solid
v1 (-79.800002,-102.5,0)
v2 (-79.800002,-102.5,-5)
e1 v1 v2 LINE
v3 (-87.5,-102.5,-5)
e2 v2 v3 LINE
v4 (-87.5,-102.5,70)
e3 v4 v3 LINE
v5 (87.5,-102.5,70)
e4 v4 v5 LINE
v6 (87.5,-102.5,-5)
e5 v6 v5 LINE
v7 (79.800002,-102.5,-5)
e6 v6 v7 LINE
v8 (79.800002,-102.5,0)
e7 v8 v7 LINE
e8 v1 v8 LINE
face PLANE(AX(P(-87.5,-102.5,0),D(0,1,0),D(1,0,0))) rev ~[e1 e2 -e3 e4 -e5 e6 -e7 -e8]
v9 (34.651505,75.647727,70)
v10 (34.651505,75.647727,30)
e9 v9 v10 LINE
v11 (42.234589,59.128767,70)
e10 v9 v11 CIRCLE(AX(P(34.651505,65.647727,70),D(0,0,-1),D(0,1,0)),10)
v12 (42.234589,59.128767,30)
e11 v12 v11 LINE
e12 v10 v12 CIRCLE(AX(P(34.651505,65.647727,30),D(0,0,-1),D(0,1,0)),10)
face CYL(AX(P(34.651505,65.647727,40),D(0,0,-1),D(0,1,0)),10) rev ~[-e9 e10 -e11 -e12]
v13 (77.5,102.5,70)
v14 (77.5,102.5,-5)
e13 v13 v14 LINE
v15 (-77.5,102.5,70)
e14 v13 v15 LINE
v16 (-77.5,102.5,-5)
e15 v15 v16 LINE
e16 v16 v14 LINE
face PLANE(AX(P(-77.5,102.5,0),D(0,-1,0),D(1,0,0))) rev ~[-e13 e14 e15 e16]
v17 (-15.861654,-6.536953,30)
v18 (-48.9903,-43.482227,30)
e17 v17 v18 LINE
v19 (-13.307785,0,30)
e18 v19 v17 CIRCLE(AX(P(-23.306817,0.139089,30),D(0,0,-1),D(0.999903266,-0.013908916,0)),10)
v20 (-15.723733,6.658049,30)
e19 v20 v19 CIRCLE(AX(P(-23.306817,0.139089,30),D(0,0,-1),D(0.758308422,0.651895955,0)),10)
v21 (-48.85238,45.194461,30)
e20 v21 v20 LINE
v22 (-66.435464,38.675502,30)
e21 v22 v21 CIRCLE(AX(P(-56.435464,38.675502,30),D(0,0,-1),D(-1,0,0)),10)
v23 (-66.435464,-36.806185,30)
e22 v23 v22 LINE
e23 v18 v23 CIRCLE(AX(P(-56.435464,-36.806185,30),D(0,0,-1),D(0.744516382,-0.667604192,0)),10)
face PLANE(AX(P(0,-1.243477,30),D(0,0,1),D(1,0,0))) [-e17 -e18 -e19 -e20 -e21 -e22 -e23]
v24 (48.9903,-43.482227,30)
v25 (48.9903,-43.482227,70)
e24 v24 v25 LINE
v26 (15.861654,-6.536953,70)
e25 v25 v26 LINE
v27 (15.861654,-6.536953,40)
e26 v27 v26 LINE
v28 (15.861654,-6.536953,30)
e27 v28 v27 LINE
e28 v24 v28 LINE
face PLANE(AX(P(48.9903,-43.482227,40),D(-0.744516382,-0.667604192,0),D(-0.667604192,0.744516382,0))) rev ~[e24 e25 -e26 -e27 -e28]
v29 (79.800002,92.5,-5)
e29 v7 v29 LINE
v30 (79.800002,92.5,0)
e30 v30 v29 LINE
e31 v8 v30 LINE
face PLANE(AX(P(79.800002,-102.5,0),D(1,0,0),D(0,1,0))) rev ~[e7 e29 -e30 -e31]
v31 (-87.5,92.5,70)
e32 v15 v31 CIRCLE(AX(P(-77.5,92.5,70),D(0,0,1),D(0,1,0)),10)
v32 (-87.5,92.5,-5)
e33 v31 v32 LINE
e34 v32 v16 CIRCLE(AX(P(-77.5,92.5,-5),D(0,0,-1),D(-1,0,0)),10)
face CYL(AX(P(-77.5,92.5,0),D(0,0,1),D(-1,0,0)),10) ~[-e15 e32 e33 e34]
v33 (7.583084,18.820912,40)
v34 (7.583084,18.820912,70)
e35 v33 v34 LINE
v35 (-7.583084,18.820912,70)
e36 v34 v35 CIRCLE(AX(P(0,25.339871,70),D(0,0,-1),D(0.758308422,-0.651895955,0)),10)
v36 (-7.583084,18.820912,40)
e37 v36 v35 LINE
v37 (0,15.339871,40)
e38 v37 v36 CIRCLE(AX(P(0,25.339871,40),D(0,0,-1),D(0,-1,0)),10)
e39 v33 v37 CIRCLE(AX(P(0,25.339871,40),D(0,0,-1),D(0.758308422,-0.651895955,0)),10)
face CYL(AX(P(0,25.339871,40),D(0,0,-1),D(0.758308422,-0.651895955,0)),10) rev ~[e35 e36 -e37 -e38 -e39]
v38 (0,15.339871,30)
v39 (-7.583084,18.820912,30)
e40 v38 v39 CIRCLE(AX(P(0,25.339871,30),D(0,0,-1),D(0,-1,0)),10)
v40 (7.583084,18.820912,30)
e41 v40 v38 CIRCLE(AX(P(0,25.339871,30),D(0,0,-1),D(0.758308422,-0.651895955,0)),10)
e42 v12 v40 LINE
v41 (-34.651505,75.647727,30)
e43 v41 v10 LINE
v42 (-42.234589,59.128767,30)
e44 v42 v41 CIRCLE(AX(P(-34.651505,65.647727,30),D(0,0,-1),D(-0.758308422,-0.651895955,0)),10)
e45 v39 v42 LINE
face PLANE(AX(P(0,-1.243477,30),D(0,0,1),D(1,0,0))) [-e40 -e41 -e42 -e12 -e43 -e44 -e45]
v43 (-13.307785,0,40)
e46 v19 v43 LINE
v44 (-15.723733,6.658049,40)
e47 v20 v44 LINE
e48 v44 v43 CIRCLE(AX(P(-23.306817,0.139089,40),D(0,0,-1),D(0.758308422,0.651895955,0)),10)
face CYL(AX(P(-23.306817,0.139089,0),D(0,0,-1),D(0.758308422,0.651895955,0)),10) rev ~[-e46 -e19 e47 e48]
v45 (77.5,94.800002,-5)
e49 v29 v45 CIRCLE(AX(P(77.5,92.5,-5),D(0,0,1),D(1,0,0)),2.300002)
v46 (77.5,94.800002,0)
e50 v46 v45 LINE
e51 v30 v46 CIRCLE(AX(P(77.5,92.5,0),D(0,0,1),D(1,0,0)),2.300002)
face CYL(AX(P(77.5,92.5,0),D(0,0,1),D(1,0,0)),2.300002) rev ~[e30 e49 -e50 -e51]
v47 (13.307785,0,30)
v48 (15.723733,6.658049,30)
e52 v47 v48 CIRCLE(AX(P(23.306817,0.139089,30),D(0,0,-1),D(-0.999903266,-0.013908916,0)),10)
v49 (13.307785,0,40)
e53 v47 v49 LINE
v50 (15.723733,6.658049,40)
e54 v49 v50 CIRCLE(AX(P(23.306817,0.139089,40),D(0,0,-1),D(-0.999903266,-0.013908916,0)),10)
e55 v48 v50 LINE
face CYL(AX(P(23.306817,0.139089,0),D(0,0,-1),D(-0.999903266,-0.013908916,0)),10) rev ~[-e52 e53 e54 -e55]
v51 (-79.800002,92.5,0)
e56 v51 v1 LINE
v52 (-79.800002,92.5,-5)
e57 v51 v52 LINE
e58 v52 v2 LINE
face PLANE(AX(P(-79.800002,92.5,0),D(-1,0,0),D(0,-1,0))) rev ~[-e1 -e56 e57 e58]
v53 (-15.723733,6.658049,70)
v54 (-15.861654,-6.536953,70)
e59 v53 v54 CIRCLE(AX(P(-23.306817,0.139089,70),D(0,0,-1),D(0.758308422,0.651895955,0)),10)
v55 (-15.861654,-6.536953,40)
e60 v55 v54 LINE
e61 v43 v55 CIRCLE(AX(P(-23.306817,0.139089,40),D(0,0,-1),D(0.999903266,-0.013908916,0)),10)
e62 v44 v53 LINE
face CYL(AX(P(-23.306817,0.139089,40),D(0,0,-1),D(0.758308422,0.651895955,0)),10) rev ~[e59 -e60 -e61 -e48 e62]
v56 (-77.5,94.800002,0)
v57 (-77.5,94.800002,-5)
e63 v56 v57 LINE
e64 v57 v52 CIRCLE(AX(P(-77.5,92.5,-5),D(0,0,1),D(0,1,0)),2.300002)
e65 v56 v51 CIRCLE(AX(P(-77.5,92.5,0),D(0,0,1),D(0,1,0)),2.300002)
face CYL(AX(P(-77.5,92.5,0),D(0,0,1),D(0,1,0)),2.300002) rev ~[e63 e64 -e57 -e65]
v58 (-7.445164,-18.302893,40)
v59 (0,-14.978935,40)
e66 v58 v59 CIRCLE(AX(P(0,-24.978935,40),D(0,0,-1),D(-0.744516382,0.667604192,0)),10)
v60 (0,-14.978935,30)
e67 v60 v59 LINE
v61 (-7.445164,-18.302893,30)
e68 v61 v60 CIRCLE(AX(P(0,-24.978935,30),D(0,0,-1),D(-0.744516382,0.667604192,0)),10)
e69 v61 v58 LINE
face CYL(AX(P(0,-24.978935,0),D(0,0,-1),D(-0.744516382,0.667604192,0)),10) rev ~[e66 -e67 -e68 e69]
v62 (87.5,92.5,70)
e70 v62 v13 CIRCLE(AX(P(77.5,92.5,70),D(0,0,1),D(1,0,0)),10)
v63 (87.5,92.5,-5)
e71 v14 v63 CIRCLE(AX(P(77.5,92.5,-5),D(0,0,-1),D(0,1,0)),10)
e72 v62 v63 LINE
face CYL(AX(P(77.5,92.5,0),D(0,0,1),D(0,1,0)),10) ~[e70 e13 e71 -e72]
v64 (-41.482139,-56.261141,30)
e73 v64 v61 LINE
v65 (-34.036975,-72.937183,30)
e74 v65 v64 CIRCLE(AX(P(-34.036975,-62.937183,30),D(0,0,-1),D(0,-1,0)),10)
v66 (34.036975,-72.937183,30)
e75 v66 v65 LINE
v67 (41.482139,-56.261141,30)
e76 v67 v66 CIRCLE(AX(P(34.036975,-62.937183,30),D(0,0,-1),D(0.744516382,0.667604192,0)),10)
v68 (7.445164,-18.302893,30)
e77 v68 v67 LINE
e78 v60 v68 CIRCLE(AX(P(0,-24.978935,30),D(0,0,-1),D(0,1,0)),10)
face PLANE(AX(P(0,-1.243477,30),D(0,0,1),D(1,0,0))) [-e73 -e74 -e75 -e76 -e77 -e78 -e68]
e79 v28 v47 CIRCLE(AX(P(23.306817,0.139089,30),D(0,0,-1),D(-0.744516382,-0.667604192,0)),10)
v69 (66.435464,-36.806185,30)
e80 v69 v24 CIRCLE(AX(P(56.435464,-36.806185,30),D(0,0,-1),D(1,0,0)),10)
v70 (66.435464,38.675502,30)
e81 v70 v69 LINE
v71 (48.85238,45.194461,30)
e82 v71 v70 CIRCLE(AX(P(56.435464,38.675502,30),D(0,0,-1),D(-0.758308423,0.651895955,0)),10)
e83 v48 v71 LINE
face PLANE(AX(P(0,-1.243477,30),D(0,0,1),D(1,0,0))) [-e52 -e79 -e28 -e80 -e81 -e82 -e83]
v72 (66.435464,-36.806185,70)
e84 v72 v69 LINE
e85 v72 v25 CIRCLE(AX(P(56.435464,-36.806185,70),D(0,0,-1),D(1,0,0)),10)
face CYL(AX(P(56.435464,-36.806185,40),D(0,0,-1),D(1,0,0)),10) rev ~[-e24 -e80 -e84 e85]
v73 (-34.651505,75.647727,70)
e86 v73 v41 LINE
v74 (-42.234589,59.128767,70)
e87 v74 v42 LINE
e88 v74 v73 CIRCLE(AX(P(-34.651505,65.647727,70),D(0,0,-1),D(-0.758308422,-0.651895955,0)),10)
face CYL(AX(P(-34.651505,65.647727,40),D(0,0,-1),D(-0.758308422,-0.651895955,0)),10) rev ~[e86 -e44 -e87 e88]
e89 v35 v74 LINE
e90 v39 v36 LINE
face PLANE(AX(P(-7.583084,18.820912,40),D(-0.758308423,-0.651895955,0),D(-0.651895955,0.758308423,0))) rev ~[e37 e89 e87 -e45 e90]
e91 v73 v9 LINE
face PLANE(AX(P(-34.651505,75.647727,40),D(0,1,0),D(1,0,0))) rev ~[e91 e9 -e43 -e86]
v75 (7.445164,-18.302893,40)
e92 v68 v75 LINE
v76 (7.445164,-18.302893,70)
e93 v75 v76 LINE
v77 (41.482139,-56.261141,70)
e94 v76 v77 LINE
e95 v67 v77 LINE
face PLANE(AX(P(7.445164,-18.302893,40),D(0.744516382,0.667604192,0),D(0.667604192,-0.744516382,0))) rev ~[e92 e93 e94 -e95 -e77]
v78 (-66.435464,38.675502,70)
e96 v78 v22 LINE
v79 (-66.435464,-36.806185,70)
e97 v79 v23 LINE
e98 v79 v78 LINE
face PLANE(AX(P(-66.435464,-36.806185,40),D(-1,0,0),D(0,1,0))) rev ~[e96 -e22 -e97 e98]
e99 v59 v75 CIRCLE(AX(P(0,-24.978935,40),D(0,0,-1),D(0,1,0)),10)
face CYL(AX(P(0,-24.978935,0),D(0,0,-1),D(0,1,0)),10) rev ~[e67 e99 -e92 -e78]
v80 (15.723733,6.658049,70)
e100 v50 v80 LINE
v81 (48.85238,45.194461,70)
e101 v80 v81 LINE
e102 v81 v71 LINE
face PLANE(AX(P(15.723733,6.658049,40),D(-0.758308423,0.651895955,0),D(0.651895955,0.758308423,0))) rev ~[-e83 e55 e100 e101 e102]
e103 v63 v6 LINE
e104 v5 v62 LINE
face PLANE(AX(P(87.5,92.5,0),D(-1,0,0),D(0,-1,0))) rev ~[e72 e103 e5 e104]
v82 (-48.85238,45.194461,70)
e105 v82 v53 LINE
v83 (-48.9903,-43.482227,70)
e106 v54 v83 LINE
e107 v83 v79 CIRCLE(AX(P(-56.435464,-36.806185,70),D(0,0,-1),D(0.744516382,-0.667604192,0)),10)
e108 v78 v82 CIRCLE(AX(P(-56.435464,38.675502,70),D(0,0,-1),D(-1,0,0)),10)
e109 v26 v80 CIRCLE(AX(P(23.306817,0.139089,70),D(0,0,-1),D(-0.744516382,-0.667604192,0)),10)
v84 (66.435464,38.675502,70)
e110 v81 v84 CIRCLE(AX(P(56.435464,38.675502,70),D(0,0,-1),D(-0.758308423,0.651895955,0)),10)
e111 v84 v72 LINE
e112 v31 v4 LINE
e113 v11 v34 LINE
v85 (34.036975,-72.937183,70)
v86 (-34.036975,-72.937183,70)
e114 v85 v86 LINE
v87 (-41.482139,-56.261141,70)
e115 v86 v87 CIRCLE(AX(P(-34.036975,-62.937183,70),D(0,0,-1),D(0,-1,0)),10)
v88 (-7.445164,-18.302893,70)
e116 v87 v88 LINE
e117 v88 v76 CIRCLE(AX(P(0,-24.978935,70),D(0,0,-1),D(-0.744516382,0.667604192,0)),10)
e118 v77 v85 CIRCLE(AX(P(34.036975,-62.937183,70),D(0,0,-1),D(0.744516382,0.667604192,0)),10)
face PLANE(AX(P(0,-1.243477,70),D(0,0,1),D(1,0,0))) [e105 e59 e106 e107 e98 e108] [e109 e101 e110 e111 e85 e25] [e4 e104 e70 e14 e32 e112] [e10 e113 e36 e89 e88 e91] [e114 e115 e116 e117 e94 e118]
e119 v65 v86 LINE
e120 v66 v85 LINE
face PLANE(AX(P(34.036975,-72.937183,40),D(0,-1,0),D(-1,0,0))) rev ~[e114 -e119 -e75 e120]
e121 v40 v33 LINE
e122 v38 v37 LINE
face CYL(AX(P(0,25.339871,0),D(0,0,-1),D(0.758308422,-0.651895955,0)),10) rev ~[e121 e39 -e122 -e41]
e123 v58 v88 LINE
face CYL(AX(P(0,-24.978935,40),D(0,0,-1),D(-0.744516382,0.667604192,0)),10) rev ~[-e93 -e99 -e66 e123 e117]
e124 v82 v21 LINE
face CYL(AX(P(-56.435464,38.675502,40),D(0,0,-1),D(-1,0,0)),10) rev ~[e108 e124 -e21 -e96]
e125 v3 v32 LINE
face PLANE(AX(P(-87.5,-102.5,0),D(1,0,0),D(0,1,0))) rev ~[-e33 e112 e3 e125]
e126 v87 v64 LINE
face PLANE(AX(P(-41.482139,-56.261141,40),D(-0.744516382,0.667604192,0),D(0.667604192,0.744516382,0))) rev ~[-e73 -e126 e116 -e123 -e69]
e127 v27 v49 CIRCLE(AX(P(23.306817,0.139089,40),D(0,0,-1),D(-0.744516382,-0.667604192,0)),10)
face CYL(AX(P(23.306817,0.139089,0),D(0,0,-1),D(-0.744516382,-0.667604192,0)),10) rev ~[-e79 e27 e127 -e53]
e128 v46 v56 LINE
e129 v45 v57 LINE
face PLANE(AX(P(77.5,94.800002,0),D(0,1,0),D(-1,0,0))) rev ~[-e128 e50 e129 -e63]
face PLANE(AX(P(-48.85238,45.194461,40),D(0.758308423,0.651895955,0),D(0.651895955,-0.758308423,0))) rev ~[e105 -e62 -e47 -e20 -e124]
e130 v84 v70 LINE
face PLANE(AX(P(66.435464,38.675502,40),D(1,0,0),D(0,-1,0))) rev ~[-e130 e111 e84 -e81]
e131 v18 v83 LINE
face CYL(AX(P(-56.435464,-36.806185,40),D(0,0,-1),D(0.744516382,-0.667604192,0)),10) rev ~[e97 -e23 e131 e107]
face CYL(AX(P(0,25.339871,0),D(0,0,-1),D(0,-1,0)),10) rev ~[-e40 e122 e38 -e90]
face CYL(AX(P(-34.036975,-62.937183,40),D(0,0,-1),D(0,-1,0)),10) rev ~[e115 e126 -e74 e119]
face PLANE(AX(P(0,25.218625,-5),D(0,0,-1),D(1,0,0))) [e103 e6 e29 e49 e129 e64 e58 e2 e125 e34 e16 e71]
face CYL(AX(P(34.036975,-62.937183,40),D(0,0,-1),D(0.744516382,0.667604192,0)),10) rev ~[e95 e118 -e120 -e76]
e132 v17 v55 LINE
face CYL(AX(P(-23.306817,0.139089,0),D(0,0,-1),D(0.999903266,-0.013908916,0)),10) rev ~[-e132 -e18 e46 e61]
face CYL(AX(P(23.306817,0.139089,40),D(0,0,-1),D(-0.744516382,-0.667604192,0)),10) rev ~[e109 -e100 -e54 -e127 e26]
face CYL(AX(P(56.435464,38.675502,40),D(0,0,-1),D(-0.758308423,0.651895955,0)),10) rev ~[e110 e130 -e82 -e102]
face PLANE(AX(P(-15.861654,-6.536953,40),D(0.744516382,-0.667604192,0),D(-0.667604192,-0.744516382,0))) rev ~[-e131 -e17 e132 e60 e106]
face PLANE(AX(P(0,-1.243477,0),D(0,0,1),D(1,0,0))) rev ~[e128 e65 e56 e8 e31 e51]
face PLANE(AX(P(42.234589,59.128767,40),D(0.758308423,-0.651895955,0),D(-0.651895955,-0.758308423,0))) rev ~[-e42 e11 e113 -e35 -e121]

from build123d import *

# Parameters (mm, degrees)
F1_DEPTH = 40
F2_DEPTH = 30
F4_DEPTH = 5


with BuildPart() as f1:
    # F0 (on Top) → F1 (new body)
    with BuildSketch(Plane.XY):
        with BuildLine():
            Line((77.5, 102.5), (-77.5, 102.5))
            ThreePointArc((-77.5, 102.5), (-84.5710678119, 99.5710678119), (-87.5, 92.5))
            Line((-87.5, 92.5), (-87.5, -102.5))
            Line((-87.5, -102.5), (87.5, -102.5))
            Line((87.5, -102.5), (87.5, 92.5))
            ThreePointArc((87.5, 92.5), (84.5710678119, 99.5710678119), (77.5, 102.5))
        make_face()
        with BuildLine():
            Line((34.0369748181, -72.9371830821), (0, -72.9371830821))
            Line((0, -72.9371830821), (-34.0369748181, -72.9371830821))
            ThreePointArc((-34.0369748181, -72.9371830821), (-43.1682512678, -67.0139207973), (-41.4821386363, -56.2611411619))
            Line((-41.4821386363, -56.2611411619), (-7.4451638182, -18.3028933823))
            ThreePointArc((-7.4451638182, -18.3028933823), (-4.0767377152, -15.8476588528), (0, -14.9789353025))
            ThreePointArc((0, -14.9789353025), (4.0767377152, -15.8476588528), (7.4451638182, -18.3028933823))
            Line((7.4451638182, -18.3028933823), (41.4821386363, -56.2611411619))
            ThreePointArc((41.4821386363, -56.2611411619), (43.1682512678, -67.0139207973), (34.0369748181, -72.9371830821))
        make_face(mode=Mode.SUBTRACT)
        with BuildLine():
            ThreePointArc((-15.7237331079, 6.6580487109), (-13.9065454363, 3.5500843616), (-13.3077846694, 0))
            ThreePointArc((-13.3077846694, 0), (-13.9924233337, -3.4998755874), (-15.8616535148, -6.536952761))
            Line((-15.8616535148, -6.536952761), (-48.9902999084, -43.482226985))
            ThreePointArc((-48.9902999084, -43.482226985), (-60.0095623414, -46.1456614468), (-66.4354637265, -36.8061850647))
            Line((-66.4354637265, -36.8061850647), (-66.4354637265, 0))
            Line((-66.4354637265, 0), (-66.4354637265, 38.6755018914))
            ThreePointArc((-66.4354637265, 38.6755018914), (-59.9117518151, 48.0518242582), (-48.8523795015, 45.194461443))
            Line((-48.8523795015, 45.194461443), (-15.7237331079, 6.6580487109))
        make_face(mode=Mode.SUBTRACT)
        with BuildLine():
            ThreePointArc((15.8616535148, -6.536952761), (13.9924233337, -3.4998755874), (13.3077846694, 0))
            ThreePointArc((13.3077846694, 0), (13.9065454363, 3.5500843616), (15.7237331079, 6.6580487109))
            Line((15.7237331079, 6.6580487109), (48.8523795015, 45.194461443))
            ThreePointArc((48.8523795015, 45.194461443), (59.9117518151, 48.0518242582), (66.4354637265, 38.6755018914))
            Line((66.4354637265, 38.6755018914), (66.4354637265, 0))
            Line((66.4354637265, 0), (66.4354637265, -36.8061850647))
            ThreePointArc((66.4354637265, -36.8061850647), (60.0095623414, -46.1456614468), (48.9902999084, -43.482226985))
            Line((48.9902999084, -43.482226985), (15.8616535148, -6.536952761))
        make_face(mode=Mode.SUBTRACT)
        with BuildLine():
            ThreePointArc((7.5830842251, 18.8209116668), (4.1719542473, 16.2517032096), (0, 15.3398712185))
            ThreePointArc((0, 15.3398712185), (-4.1719542473, 16.2517032096), (-7.5830842251, 18.8209116668))
            Line((-7.5830842251, 18.8209116668), (-42.2345889959, 59.1287671034))
            ThreePointArc((-42.2345889959, 59.1287671034), (-43.7396727798, 69.8196809024), (-34.6515047709, 75.647726655))
            Line((-34.6515047709, 75.647726655), (0, 75.647726655))
            Line((0, 75.647726655), (34.6515047709, 75.647726655))
            ThreePointArc((34.6515047709, 75.647726655), (43.7396727798, 69.8196809024), (42.2345889959, 59.1287671034))
            Line((42.2345889959, 59.1287671034), (7.5830842251, 18.8209116668))
        make_face(mode=Mode.SUBTRACT)
    extrude(amount=F1_DEPTH)

    # F0 (on Top) + F1_face (on face) → F2 (join)
    with BuildSketch(Plane.XY):
        with BuildLine():
            Line((77.5, 102.5), (-77.5, 102.5))
            ThreePointArc((-77.5, 102.5), (-84.5710678119, 99.5710678119), (-87.5, 92.5))
            Line((-87.5, 92.5), (-87.5, -102.5))
            Line((-87.5, -102.5), (87.5, -102.5))
            Line((87.5, -102.5), (87.5, 92.5))
            ThreePointArc((87.5, 92.5), (84.5710678119, 99.5710678119), (77.5, 102.5))
        make_face()
        with BuildLine():
            Line((34.0369748181, -72.9371830821), (0, -72.9371830821))
            Line((0, -72.9371830821), (-34.0369748181, -72.9371830821))
            ThreePointArc((-34.0369748181, -72.9371830821), (-43.1682512678, -67.0139207973), (-41.4821386363, -56.2611411619))
            Line((-41.4821386363, -56.2611411619), (-7.4451638182, -18.3028933823))
            ThreePointArc((-7.4451638182, -18.3028933823), (-4.0767377152, -15.8476588528), (0, -14.9789353025))
            ThreePointArc((0, -14.9789353025), (4.0767377152, -15.8476588528), (7.4451638182, -18.3028933823))
            Line((7.4451638182, -18.3028933823), (41.4821386363, -56.2611411619))
            ThreePointArc((41.4821386363, -56.2611411619), (43.1682512678, -67.0139207973), (34.0369748181, -72.9371830821))
        make_face(mode=Mode.SUBTRACT)
        with BuildLine():
            ThreePointArc((-15.7237331079, 6.6580487109), (-13.9065454363, 3.5500843616), (-13.3077846694, 0))
            ThreePointArc((-13.3077846694, 0), (-13.9924233337, -3.4998755874), (-15.8616535148, -6.536952761))
            Line((-15.8616535148, -6.536952761), (-48.9902999084, -43.482226985))
            ThreePointArc((-48.9902999084, -43.482226985), (-60.0095623414, -46.1456614468), (-66.4354637265, -36.8061850647))
            Line((-66.4354637265, -36.8061850647), (-66.4354637265, 0))
            Line((-66.4354637265, 0), (-66.4354637265, 38.6755018914))
            ThreePointArc((-66.4354637265, 38.6755018914), (-59.9117518151, 48.0518242582), (-48.8523795015, 45.194461443))
            Line((-48.8523795015, 45.194461443), (-15.7237331079, 6.6580487109))
        make_face(mode=Mode.SUBTRACT)
        with BuildLine():
            ThreePointArc((15.8616535148, -6.536952761), (13.9924233337, -3.4998755874), (13.3077846694, 0))
            ThreePointArc((13.3077846694, 0), (13.9065454363, 3.5500843616), (15.7237331079, 6.6580487109))
            Line((15.7237331079, 6.6580487109), (48.8523795015, 45.194461443))
            ThreePointArc((48.8523795015, 45.194461443), (59.9117518151, 48.0518242582), (66.4354637265, 38.6755018914))
            Line((66.4354637265, 38.6755018914), (66.4354637265, 0))
            Line((66.4354637265, 0), (66.4354637265, -36.8061850647))
            ThreePointArc((66.4354637265, -36.8061850647), (60.0095623414, -46.1456614468), (48.9902999084, -43.482226985))
            Line((48.9902999084, -43.482226985), (15.8616535148, -6.536952761))
        make_face(mode=Mode.SUBTRACT)
        with BuildLine():
            ThreePointArc((7.5830842251, 18.8209116668), (4.1719542473, 16.2517032096), (0, 15.3398712185))
            ThreePointArc((0, 15.3398712185), (-4.1719542473, 16.2517032096), (-7.5830842251, 18.8209116668))
            Line((-7.5830842251, 18.8209116668), (-42.2345889959, 59.1287671034))
            ThreePointArc((-42.2345889959, 59.1287671034), (-43.7396727798, 69.8196809024), (-34.6515047709, 75.647726655))
            Line((-34.6515047709, 75.647726655), (0, 75.647726655))
            Line((0, 75.647726655), (34.6515047709, 75.647726655))
            ThreePointArc((34.6515047709, 75.647726655), (43.7396727798, 69.8196809024), (42.2345889959, 59.1287671034))
            Line((42.2345889959, 59.1287671034), (7.5830842251, 18.8209116668))
        make_face(mode=Mode.SUBTRACT)
        with BuildLine():
            Line((-66.4354637265, 0), (-13.3077846694, 0))
            ThreePointArc((-13.3077846694, 0), (-13.9065454363, 3.5500843616), (-15.7237331079, 6.6580487109))
            Line((-15.7237331079, 6.6580487109), (-48.8523795015, 45.194461443))
            ThreePointArc((-48.8523795015, 45.194461443), (-59.9117518151, 48.0518242582), (-66.4354637265, 38.6755018914))
            Line((-66.4354637265, 38.6755018914), (-66.4354637265, 0))
        make_face()
        with BuildLine():
            ThreePointArc((-7.5830842251, 18.8209116668), (-4.1719542473, 16.2517032096), (0, 15.3398712185))
            Line((0, 15.3398712185), (0, 75.647726655))
            Line((0, 75.647726655), (-34.6515047709, 75.647726655))
            ThreePointArc((-34.6515047709, 75.647726655), (-43.7396727798, 69.8196809024), (-42.2345889959, 59.1287671034))
            Line((-42.2345889959, 59.1287671034), (-7.5830842251, 18.8209116668))
        make_face()
        with BuildLine():
            Line((0, 75.647726655), (0, 15.3398712185))
            ThreePointArc((0, 15.3398712185), (4.1719542473, 16.2517032096), (7.5830842251, 18.8209116668))
            Line((7.5830842251, 18.8209116668), (42.2345889959, 59.1287671034))
            ThreePointArc((42.2345889959, 59.1287671034), (43.7396727798, 69.8196809024), (34.6515047709, 75.647726655))
            Line((34.6515047709, 75.647726655), (0, 75.647726655))
        make_face()
        with BuildLine():
            ThreePointArc((15.7237331079, 6.6580487109), (13.9065454363, 3.5500843616), (13.3077846694, 0))
            Line((13.3077846694, 0), (66.4354637265, 0))
            Line((66.4354637265, 0), (66.4354637265, 38.6755018914))
            ThreePointArc((66.4354637265, 38.6755018914), (59.9117518151, 48.0518242582), (48.8523795015, 45.194461443))
            Line((48.8523795015, 45.194461443), (15.7237331079, 6.6580487109))
        make_face()
        with BuildLine():
            Line((66.4354637265, 0), (13.3077846694, 0))
            ThreePointArc((13.3077846694, 0), (13.9924233337, -3.4998755874), (15.8616535148, -6.536952761))
            Line((15.8616535148, -6.536952761), (48.9902999084, -43.482226985))
            ThreePointArc((48.9902999084, -43.482226985), (60.0095623414, -46.1456614468), (66.4354637265, -36.8061850647))
            Line((66.4354637265, -36.8061850647), (66.4354637265, 0))
        make_face()
        with BuildLine():
            Line((0, -14.9789353025), (0, -72.9371830821))
            Line((0, -72.9371830821), (34.0369748181, -72.9371830821))
            ThreePointArc((34.0369748181, -72.9371830821), (43.1682512678, -67.0139207973), (41.4821386363, -56.2611411619))
            Line((41.4821386363, -56.2611411619), (7.4451638182, -18.3028933823))
            ThreePointArc((7.4451638182, -18.3028933823), (4.0767377152, -15.8476588528), (0, -14.9789353025))
        make_face()
        with BuildLine():
            Line((-34.0369748181, -72.9371830821), (0, -72.9371830821))
            Line((0, -72.9371830821), (0, -14.9789353025))
            ThreePointArc((0, -14.9789353025), (-4.0767377152, -15.8476588528), (-7.4451638182, -18.3028933823))
            Line((-7.4451638182, -18.3028933823), (-41.4821386363, -56.2611411619))
            ThreePointArc((-41.4821386363, -56.2611411619), (-43.1682512678, -67.0139207973), (-34.0369748181, -72.9371830821))
        make_face()
        with BuildLine():
            ThreePointArc((-15.8616535148, -6.536952761), (-13.9924233337, -3.4998755874), (-13.3077846694, 0))
            Line((-13.3077846694, 0), (-66.4354637265, 0))
            Line((-66.4354637265, 0), (-66.4354637265, -36.8061850647))
            ThreePointArc((-66.4354637265, -36.8061850647), (-60.0095623414, -46.1456614468), (-48.9902999084, -43.482226985))
            Line((-48.9902999084, -43.482226985), (-15.8616535148, -6.536952761))
        make_face()
    with BuildSketch(Plane(origin=(0, -1.0794755955, 40), x_dir=(1, 0, 0), z_dir=(0, 0, 1))):
        with BuildLine():
            Line((77.5, 103.5794755955), (-77.5, 103.5794755955))
            ThreePointArc((-77.5, 103.5794755955), (-84.5710678119, 100.6505434074), (-87.5, 93.5794755955))
            Line((-87.5, 93.5794755955), (-87.5, -101.4205244045))
            Line((-87.5, -101.4205244045), (87.5, -101.4205244045))
            Line((87.5, -101.4205244045), (87.5, 93.5794755955))
            ThreePointArc((87.5, 93.5794755955), (84.5710678119, 100.6505434074), (77.5, 103.5794755955))
        make_face()
        with BuildLine():
            ThreePointArc((41.4821386363, -55.1816655664), (43.1682512678, -65.9344452018), (34.0369748181, -71.8577074866))
            Line((34.0369748181, -71.8577074866), (-34.0369748181, -71.8577074866))
            ThreePointArc((-34.0369748181, -71.8577074866), (-43.1682512678, -65.9344452018), (-41.4821386363, -55.1816655664))
            Line((-41.4821386363, -55.1816655664), (-7.4451638182, -17.2234177868))
            ThreePointArc((-7.4451638182, -17.2234177868), (0, -13.899459707), (7.4451638182, -17.2234177868))
            Line((7.4451638182, -17.2234177868), (41.4821386363, -55.1816655664))
        make_face(mode=Mode.SUBTRACT)
        with BuildLine():
            ThreePointArc((-15.7237331079, 7.7375243064), (-13.3073635592, 1.1140457264), (-15.8616535148, -5.4574771655))
            Line((-15.8616535148, -5.4574771655), (-48.9902999084, -42.4027513895))
            ThreePointArc((-48.9902999084, -42.4027513895), (-60.0095623414, -45.0661858513), (-66.4354637265, -35.7267094692))
            Line((-66.4354637265, -35.7267094692), (-66.4354637265, 39.7549774869))
            ThreePointArc((-66.4354637265, 39.7549774869), (-59.9117518151, 49.1312998537), (-48.8523795015, 46.2739370385))
            Line((-48.8523795015, 46.2739370385), (-15.7237331079, 7.7375243064))
        make_face(mode=Mode.SUBTRACT)
        with BuildLine():
            Line((48.9902999084, -42.4027513895), (15.8616535148, -5.4574771655))
            ThreePointArc((15.8616535148, -5.4574771655), (13.3073635592, 1.1140457264), (15.7237331079, 7.7375243064))
            Line((15.7237331079, 7.7375243064), (48.8523795015, 46.2739370385))
            ThreePointArc((48.8523795015, 46.2739370385), (59.9117518151, 49.1312998537), (66.4354637265, 39.7549774869))
            Line((66.4354637265, 39.7549774869), (66.4354637265, -35.7267094692))
            ThreePointArc((66.4354637265, -35.7267094692), (60.0095623414, -45.0661858513), (48.9902999084, -42.4027513895))
        make_face(mode=Mode.SUBTRACT)
        with BuildLine():
            Line((42.2345889959, 60.2082426989), (7.5830842251, 19.9003872623))
            ThreePointArc((7.5830842251, 19.9003872623), (0, 16.419346814), (-7.5830842251, 19.9003872623))
            Line((-7.5830842251, 19.9003872623), (-42.2345889959, 60.2082426989))
            ThreePointArc((-42.2345889959, 60.2082426989), (-43.7396727798, 70.8991564979), (-34.6515047709, 76.7272022505))
            Line((-34.6515047709, 76.7272022505), (34.6515047709, 76.7272022505))
            ThreePointArc((34.6515047709, 76.7272022505), (43.7396727798, 70.8991564979), (42.2345889959, 60.2082426989))
        make_face(mode=Mode.SUBTRACT)
    extrude(amount=F2_DEPTH)

    # F3 (on face) → F4 (join)
    with BuildSketch(Plane(origin=(0, 0, 0), x_dir=(1, 0, 0), z_dir=(0, 0, -1))):
        with BuildLine():
            Line((77.5, -94.8000022769), (-77.5, -94.8000022769))
            ThreePointArc((-77.5, -94.8000022769), (-79.1263472067, -94.1263472067), (-79.8000022769, -92.5))
            Line((-79.8000022769, -92.5), (-79.8000022769, 87.0887190104))
            Line((-79.8000022769, 87.0887190104), (-79.8000022769, 94.8000022769))
            Line((-79.8000022769, 94.8000022769), (-79.8000022769, 102.5))
            Line((-79.8000022769, 102.5), (-87.5, 102.5))
            Line((-87.5, 102.5), (-87.5, -92.5))
            ThreePointArc((-87.5, -92.5), (-84.5710678119, -99.5710678119), (-77.5, -102.5))
            Line((-77.5, -102.5), (77.5, -102.5))
            ThreePointArc((77.5, -102.5), (84.5710678119, -99.5710678119), (87.5, -92.5))
            Line((87.5, -92.5), (87.5, 102.5))
            Line((87.5, 102.5), (79.8000022769, 102.5))
            Line((79.8000022769, 102.5), (79.8000022769, 94.8000022769))
            Line((79.8000022769, 94.8000022769), (79.8000022769, 83.8265269995))
            Line((79.8000022769, 83.8265269995), (79.8000022769, -92.5))
            ThreePointArc((79.8000022769, -92.5), (79.1263472067, -94.1263472067), (77.5, -94.8000022769))
        make_face()
    extrude(amount=F4_DEPTH)


solid = f1.part
